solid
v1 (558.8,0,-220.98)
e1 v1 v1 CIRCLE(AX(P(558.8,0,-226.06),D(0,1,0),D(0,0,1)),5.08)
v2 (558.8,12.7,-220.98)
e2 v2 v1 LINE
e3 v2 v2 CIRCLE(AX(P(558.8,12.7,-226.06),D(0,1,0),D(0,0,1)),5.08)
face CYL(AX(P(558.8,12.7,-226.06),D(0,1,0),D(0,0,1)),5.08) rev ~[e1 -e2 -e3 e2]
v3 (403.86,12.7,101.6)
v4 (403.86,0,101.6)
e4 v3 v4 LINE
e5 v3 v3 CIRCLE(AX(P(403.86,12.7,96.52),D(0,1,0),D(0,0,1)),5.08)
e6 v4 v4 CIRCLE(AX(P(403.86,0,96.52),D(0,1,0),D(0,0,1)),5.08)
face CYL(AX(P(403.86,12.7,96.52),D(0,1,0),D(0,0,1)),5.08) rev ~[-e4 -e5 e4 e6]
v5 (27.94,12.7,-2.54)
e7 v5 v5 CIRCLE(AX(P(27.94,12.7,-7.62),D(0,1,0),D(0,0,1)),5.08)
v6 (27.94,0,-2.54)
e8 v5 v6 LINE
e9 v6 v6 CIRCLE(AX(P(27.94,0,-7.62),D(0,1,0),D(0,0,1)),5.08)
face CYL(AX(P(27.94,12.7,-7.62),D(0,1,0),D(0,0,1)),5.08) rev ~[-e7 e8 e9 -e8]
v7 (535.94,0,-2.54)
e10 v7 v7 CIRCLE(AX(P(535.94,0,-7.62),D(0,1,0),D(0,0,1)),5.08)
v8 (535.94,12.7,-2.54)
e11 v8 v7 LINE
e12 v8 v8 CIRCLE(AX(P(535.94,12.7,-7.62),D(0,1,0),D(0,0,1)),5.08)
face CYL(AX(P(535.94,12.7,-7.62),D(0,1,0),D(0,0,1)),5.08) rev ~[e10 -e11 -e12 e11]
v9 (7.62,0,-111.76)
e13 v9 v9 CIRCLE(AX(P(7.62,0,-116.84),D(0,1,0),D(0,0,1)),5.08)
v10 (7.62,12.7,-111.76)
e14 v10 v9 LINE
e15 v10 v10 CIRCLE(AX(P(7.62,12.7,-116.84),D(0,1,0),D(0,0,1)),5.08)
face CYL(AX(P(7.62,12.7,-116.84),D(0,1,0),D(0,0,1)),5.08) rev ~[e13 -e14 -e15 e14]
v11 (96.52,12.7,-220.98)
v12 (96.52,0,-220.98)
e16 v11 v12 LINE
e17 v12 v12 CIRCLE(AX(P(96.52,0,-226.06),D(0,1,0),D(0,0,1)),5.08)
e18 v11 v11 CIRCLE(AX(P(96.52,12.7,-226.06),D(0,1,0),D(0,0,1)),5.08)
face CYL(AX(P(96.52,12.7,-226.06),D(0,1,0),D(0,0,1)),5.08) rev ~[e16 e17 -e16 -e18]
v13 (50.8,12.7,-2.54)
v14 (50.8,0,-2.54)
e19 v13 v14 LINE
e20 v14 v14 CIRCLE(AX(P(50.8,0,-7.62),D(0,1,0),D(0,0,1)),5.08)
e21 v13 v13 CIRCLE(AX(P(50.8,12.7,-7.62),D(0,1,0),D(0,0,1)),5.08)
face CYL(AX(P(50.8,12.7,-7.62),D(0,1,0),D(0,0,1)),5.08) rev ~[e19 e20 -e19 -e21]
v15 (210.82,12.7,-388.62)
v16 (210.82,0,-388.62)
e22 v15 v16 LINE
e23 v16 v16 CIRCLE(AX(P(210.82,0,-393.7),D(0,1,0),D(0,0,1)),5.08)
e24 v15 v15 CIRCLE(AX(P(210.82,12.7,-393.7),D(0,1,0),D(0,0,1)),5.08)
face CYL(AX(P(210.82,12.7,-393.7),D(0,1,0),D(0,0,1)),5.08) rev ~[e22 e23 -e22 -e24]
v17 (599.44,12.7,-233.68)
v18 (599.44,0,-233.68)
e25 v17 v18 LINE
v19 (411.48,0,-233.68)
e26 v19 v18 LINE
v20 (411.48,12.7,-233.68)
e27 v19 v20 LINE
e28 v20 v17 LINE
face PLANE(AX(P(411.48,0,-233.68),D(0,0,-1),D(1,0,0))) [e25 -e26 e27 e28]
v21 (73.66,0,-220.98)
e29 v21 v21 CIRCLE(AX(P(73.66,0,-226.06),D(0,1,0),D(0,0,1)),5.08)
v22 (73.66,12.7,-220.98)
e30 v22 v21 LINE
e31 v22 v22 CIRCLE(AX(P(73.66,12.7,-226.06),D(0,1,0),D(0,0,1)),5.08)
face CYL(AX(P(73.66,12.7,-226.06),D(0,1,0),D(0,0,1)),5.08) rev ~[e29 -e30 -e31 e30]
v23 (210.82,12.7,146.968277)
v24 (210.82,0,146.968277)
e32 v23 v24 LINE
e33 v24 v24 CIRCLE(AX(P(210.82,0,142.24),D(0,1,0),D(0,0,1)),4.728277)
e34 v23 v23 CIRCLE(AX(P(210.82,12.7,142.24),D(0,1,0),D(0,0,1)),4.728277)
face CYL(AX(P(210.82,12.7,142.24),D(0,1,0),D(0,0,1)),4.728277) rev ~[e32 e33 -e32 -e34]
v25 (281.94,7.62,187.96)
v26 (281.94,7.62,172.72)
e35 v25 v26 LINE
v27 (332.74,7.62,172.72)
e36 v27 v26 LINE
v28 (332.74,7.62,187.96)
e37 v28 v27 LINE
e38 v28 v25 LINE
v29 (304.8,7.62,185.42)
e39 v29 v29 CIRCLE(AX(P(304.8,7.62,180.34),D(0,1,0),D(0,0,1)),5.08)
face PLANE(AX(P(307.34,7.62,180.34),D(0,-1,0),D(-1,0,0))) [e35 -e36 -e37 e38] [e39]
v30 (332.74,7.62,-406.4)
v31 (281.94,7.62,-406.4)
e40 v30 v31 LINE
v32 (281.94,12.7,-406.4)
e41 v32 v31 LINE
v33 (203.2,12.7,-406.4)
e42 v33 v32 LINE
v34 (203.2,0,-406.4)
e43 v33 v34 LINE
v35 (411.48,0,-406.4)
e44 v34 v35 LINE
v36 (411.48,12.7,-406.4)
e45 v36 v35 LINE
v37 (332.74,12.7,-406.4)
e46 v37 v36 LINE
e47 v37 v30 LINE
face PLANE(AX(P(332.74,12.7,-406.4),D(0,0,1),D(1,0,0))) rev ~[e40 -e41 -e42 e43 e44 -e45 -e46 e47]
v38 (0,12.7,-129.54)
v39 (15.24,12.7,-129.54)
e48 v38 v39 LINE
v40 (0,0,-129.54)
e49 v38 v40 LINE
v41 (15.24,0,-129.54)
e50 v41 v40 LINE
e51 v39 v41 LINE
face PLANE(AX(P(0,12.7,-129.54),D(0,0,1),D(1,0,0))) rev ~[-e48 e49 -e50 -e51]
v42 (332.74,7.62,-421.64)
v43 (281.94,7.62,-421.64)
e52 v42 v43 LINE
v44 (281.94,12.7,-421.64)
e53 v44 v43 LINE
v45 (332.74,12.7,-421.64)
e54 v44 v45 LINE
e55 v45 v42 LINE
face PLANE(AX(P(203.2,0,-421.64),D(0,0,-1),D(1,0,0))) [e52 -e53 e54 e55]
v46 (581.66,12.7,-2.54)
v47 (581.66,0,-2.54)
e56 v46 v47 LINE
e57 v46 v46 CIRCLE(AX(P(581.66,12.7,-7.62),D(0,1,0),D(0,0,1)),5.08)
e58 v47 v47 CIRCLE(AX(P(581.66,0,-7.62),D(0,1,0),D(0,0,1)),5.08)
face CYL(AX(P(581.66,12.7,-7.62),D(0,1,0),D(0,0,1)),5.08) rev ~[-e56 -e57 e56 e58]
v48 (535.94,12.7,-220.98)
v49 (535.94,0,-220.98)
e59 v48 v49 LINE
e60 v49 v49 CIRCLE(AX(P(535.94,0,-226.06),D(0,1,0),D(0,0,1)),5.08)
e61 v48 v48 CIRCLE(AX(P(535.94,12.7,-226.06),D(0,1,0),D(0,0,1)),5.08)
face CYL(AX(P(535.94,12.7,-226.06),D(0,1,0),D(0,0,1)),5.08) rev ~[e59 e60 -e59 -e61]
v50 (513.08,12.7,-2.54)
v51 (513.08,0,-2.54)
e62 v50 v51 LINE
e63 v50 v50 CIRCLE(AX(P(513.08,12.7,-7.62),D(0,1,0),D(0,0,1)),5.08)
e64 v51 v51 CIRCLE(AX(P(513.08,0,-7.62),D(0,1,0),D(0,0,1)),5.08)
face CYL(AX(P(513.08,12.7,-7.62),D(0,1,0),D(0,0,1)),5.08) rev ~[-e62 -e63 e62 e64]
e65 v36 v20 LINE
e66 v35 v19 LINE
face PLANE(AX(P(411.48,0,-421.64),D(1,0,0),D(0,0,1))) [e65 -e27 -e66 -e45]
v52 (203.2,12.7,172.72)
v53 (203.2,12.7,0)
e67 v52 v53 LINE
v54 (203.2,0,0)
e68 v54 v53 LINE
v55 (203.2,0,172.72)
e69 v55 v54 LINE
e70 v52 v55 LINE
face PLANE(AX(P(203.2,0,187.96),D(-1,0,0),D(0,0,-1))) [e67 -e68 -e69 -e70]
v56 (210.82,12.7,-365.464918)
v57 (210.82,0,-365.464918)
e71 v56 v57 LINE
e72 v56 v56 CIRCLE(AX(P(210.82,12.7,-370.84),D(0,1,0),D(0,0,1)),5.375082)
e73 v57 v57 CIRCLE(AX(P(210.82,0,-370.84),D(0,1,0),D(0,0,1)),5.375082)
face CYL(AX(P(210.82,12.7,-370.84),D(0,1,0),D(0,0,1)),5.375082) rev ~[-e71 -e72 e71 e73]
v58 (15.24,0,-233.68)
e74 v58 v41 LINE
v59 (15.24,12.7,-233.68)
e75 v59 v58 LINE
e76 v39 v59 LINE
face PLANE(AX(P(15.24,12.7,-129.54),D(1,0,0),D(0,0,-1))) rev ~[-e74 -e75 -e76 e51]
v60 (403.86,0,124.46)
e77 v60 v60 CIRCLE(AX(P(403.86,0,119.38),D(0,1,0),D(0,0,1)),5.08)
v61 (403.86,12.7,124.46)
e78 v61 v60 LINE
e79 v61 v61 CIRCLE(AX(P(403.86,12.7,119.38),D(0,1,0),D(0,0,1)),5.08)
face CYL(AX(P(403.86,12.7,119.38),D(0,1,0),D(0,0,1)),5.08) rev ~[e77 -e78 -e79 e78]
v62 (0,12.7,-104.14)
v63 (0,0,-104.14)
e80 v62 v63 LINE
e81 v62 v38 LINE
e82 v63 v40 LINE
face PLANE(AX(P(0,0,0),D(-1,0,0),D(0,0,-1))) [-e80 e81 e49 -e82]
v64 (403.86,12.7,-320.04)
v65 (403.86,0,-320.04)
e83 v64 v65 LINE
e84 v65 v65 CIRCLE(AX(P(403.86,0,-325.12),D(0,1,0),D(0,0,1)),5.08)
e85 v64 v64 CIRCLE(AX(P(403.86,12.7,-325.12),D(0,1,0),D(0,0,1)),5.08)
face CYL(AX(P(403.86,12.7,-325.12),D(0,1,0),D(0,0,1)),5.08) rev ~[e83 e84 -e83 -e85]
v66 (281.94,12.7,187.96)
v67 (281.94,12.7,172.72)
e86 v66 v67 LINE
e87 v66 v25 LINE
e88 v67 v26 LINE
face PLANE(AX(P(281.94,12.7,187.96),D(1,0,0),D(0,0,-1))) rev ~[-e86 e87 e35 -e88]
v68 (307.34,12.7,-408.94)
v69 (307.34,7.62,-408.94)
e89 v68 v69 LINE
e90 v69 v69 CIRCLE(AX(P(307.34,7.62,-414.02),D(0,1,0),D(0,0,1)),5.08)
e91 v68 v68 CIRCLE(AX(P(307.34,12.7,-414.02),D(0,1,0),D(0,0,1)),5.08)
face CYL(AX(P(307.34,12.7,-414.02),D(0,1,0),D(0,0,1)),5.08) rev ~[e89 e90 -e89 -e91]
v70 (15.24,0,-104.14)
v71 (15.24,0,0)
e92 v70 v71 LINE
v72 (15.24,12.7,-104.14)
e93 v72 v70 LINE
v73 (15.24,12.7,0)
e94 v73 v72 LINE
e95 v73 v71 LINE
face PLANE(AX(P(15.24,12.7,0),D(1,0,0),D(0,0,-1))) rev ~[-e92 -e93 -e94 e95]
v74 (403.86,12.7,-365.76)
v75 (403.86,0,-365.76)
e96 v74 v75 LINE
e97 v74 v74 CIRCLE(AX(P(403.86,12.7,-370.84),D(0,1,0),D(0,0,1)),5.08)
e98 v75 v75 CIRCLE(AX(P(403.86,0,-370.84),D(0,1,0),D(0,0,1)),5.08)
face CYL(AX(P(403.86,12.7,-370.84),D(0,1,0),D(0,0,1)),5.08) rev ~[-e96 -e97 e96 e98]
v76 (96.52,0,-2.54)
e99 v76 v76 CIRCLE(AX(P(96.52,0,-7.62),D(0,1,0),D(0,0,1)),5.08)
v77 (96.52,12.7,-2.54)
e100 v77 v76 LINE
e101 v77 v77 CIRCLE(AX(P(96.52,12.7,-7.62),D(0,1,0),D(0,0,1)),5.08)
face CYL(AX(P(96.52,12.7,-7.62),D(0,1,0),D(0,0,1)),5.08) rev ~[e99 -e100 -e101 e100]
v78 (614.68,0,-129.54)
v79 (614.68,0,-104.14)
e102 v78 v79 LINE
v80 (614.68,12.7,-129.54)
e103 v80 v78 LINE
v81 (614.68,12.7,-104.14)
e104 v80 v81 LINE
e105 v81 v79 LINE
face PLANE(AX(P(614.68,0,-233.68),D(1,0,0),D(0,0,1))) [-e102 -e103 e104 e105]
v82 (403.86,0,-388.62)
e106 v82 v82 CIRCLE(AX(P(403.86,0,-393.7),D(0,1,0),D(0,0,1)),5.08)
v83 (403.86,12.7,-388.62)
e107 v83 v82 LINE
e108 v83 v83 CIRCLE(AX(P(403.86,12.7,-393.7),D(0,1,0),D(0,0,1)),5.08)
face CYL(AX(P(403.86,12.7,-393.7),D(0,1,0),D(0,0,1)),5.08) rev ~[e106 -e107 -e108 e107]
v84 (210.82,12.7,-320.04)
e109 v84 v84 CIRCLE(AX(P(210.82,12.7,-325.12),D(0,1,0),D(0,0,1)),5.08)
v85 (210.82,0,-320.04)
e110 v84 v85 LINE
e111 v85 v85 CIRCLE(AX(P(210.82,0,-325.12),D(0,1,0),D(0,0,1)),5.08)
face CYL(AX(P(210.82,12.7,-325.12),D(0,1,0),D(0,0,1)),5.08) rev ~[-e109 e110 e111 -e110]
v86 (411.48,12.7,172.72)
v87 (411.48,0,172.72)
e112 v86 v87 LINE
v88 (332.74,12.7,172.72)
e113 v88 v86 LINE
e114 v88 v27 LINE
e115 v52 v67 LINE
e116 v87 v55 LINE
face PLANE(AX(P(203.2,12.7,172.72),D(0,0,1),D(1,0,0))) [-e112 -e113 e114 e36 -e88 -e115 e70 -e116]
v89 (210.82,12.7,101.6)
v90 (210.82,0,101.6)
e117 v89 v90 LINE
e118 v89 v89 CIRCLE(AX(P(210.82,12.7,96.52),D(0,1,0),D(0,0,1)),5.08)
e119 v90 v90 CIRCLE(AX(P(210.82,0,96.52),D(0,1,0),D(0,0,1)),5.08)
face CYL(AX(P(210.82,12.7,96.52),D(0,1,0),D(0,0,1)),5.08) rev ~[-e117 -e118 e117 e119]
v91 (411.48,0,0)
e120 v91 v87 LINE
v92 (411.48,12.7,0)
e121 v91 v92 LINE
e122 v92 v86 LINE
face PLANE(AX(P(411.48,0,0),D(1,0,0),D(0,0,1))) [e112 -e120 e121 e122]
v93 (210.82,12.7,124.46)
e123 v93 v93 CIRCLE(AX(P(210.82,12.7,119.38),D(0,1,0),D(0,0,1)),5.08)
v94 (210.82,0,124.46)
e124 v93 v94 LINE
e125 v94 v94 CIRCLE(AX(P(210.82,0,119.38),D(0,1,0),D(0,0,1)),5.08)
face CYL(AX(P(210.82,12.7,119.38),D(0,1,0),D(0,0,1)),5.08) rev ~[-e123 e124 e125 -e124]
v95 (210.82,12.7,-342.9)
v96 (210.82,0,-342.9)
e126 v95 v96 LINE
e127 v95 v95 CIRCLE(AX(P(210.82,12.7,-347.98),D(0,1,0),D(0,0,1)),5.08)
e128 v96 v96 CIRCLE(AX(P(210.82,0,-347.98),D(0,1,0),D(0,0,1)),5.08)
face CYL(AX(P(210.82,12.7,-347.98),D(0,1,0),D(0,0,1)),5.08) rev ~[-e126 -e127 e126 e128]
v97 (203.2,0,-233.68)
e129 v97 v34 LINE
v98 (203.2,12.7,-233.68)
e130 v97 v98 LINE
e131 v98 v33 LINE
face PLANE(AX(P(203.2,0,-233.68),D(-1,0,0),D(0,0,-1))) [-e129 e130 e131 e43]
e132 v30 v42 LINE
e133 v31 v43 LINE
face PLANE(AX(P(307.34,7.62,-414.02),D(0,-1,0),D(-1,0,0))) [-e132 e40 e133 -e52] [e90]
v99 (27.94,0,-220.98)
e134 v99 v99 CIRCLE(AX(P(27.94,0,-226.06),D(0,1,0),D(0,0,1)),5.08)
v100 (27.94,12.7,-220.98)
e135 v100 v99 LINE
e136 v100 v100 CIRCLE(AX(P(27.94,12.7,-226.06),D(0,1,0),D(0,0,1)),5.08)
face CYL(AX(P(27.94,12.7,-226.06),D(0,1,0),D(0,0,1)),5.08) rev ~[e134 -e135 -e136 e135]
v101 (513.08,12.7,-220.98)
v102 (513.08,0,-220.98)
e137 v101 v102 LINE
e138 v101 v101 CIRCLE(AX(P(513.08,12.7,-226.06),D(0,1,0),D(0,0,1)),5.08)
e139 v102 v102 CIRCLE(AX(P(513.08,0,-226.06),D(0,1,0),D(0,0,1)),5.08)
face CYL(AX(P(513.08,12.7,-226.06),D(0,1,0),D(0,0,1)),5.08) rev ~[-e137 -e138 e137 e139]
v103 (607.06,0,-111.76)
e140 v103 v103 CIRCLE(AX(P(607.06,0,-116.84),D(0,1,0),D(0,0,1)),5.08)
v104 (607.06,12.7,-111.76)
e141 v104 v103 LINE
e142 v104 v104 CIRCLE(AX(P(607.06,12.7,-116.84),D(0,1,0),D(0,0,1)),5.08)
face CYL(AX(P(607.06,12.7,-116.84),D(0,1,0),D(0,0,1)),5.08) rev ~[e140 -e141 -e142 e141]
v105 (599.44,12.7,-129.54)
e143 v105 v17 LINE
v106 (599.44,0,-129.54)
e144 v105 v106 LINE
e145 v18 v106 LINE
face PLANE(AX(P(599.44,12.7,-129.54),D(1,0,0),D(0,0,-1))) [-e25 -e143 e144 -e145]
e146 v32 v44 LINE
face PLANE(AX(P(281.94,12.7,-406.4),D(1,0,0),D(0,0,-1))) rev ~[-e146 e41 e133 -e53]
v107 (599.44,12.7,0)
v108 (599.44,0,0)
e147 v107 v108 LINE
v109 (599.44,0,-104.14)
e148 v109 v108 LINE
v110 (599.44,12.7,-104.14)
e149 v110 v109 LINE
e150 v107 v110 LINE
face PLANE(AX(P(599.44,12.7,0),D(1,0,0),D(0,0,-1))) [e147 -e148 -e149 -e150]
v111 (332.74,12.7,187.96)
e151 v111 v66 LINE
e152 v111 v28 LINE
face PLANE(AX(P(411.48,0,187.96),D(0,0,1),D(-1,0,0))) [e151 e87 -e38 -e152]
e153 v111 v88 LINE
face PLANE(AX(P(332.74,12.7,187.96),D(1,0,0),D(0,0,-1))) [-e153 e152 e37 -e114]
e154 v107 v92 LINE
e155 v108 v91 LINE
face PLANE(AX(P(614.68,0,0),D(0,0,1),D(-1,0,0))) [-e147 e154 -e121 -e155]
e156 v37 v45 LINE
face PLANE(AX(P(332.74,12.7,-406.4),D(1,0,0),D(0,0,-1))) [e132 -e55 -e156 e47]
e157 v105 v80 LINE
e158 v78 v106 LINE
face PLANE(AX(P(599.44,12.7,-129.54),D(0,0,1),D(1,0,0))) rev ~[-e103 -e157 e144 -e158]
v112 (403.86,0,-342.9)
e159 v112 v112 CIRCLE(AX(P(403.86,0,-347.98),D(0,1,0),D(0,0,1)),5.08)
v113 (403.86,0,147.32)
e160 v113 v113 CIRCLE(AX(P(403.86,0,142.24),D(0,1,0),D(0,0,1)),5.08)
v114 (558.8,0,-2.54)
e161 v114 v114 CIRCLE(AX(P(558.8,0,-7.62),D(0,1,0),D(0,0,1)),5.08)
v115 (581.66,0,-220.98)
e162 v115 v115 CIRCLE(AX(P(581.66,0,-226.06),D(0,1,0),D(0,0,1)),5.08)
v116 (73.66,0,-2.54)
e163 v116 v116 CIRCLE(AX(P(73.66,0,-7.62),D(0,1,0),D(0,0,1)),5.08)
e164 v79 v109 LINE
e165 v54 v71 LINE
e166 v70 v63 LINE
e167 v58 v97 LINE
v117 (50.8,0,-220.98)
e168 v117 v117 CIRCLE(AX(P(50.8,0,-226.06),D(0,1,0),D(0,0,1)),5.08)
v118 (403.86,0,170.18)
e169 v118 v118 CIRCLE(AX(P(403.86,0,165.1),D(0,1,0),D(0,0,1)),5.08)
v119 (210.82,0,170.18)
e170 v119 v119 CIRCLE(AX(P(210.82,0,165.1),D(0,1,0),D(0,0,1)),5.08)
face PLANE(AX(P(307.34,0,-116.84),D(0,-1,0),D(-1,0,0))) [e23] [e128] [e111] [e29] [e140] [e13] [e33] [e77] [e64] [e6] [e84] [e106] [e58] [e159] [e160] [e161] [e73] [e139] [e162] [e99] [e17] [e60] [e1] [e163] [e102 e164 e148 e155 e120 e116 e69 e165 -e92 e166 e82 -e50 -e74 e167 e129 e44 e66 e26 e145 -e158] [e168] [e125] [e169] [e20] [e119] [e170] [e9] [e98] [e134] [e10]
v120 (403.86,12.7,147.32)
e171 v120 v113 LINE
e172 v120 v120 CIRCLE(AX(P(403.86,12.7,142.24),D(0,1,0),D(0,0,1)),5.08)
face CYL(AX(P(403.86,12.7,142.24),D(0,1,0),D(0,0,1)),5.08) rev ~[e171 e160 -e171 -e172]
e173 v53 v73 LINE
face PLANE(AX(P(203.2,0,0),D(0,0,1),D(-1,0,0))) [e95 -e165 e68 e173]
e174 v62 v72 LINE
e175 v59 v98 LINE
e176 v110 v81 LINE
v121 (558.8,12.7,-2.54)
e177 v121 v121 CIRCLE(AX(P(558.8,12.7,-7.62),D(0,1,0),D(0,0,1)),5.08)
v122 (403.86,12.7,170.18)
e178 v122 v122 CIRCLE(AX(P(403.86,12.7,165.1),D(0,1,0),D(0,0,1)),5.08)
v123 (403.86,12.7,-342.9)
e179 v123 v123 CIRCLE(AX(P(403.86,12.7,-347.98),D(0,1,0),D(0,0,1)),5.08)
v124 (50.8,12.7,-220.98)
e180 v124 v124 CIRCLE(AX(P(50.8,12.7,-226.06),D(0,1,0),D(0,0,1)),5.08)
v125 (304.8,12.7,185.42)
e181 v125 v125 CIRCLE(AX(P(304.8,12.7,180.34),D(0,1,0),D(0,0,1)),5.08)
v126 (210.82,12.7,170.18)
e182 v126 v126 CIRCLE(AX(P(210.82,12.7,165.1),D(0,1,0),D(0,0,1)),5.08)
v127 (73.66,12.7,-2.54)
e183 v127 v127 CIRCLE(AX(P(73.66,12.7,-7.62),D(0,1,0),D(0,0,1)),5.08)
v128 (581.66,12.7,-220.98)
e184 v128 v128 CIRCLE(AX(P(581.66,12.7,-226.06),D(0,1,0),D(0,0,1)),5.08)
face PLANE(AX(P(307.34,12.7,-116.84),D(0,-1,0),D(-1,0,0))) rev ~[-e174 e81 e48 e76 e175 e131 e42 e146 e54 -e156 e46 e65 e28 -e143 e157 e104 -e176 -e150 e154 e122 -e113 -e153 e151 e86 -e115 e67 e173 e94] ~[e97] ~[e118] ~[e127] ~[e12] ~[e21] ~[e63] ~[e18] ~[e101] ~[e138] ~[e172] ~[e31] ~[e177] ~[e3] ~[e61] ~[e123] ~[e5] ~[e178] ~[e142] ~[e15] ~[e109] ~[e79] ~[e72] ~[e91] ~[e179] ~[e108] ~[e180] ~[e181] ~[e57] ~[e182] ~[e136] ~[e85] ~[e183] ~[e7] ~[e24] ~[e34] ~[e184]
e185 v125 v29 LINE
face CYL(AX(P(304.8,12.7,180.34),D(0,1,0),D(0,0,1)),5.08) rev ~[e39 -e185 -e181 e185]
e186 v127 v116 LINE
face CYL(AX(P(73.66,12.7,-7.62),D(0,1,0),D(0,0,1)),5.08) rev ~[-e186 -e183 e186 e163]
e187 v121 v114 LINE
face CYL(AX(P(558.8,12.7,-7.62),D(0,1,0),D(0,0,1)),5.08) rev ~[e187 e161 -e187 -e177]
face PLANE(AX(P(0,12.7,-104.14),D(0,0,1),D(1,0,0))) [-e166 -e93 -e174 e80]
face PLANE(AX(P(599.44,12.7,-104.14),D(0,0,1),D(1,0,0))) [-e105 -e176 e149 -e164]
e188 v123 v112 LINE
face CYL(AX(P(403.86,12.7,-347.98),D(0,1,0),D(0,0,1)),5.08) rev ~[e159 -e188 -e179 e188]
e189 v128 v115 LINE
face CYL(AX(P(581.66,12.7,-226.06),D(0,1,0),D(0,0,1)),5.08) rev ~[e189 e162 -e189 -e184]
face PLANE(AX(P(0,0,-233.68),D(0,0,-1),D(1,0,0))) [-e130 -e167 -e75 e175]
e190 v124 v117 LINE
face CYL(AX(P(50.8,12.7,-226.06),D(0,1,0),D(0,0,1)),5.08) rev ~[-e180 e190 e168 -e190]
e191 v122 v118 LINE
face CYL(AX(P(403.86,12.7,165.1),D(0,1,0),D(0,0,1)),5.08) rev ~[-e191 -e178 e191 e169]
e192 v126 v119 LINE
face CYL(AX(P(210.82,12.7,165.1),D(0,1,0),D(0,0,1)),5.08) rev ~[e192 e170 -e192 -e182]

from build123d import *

# Parameters (mm, degrees)
BOSS_EXTRUDE1_DEPTH = 12.7
SKETCH3_W           = 78.74
SKETCH3_H           = 15.24
CUT_EXTRUDE1_DEPTH  = 15.24
SKETCH5_W           = 50.8
SKETCH5_H           = 15.24
CUT_EXTRUDE2_DEPTH  = 7.62
SKETCH6_R           = 5.08
CUT_EXTRUDE3_DEPTH  = 10.16
SKETCH7_W           = 15.24
SKETCH7_H           = 104.14
CUT_EXTRUDE4_DEPTH  = 15.24
SKETCH8_R           = 5.08
CUT_EXTRUDE5_DEPTH  = 15.24
SKETCH9_R           = 5.08
SKETCH9_R_2         = 5.375081868
SKETCH9_R_3         = 4.728276711
CUT_EXTRUDE6_DEPTH  = 15.24


with BuildPart() as part:
    # Sketch1 → Boss-Extrude1 (new body)
    with BuildSketch(Plane(origin=(0, 0, 0), x_dir=(1, 0, 0), z_dir=(0, 1, 0))):
        Polygon((0, 0), (0, 233.68), (203.2, 233.68), (203.2, 421.64), (411.48, 421.64), (411.48, 233.68), (614.68, 233.68), (614.68, 0), (411.48, 0), (411.48, -187.96), (203.2, -187.96), (203.2, 0), align=None)
    extrude(amount=BOSS_EXTRUDE1_DEPTH)

    # Sketch3 → Cut-Extrude1 (cut)
    with BuildSketch(Plane(origin=(0, 12.7, 0), x_dir=(1, 0, 0), z_dir=(0, 1, 0))):
        with Locations((242.57, 414.02)):
            Rectangle(SKETCH3_W, SKETCH3_H)
        with Locations((372.11, 414.02)):
            Rectangle(SKETCH3_W, SKETCH3_H)
        with Locations((372.11, -180.34)):
            Rectangle(SKETCH3_W, SKETCH3_H)
        with Locations((242.57, -180.34)):
            Rectangle(SKETCH3_W, SKETCH3_H)
    extrude(amount=-CUT_EXTRUDE1_DEPTH, mode=Mode.SUBTRACT)

    # Sketch5 → Cut-Extrude2 (cut)
    with BuildSketch(Plane(origin=(0, 0, 0), x_dir=(-1, 0, 0), z_dir=(0, -1, 0))):
        with Locations((-307.34, -180.34)):
            Rectangle(SKETCH5_W, SKETCH5_H)
        with Locations((-307.34, 414.02)):
            Rectangle(SKETCH5_W, SKETCH5_H)
    extrude(amount=-CUT_EXTRUDE2_DEPTH, mode=Mode.SUBTRACT)

    # Sketch6 → Cut-Extrude3 (cut)
    with BuildSketch(Plane(origin=(0, 12.7, 0), x_dir=(1, 0, 0), z_dir=(0, 1, 0))):
        with Locations(Location((307.34, 414.02, 0), (0, 0, 270))):
            Circle(SKETCH6_R)
        with Locations(Location((304.8, -180.34, 0), (0, 0, 270))):
            Circle(SKETCH6_R)
    extrude(amount=-CUT_EXTRUDE3_DEPTH, mode=Mode.SUBTRACT)

    # Sketch7 → Cut-Extrude4 (cut)
    with BuildSketch(Plane(origin=(0, 12.7, 0), x_dir=(1, 0, 0), z_dir=(0, 1, 0))):
        with Locations((7.62, 52.07)):
            Rectangle(SKETCH7_W, SKETCH7_H)
        with Locations((7.62, 181.61)):
            Rectangle(SKETCH7_W, SKETCH7_H)
        with Locations((607.06, 52.07)):
            Rectangle(SKETCH7_W, SKETCH7_H)
        with Locations((607.06, 181.61)):
            Rectangle(SKETCH7_W, SKETCH7_H)
    extrude(amount=-CUT_EXTRUDE4_DEPTH, mode=Mode.SUBTRACT)

    # Sketch8 → Cut-Extrude5 (cut)
    with BuildSketch(Plane(origin=(0, 12.7, 0), x_dir=(1, 0, 0), z_dir=(0, 1, 0))):
        with Locations(Location((607.06, 116.84, 0), (0, 0, 270))):
            Circle(SKETCH8_R)
        with Locations(Location((7.62, 116.84, 0), (0, 0, 270))):
            Circle(SKETCH8_R)
    extrude(amount=-CUT_EXTRUDE5_DEPTH, mode=Mode.SUBTRACT)

    # Sketch9 → Cut-Extrude6 (cut)
    with BuildSketch(Plane(origin=(0, 12.7, 0), x_dir=(1, 0, 0), z_dir=(0, 1, 0))):
        with Locations(Location((27.94, 226.06, 0), (0, 0, 270))):
            Circle(SKETCH9_R)
        with Locations(Location((50.8, 226.06, 0), (0, 0, 270))):
            Circle(SKETCH9_R)
        with Locations(Location((73.66, 226.06, 0), (0, 0, 270))):
            Circle(SKETCH9_R)
        with Locations(Location((96.52, 226.06, 0), (0, 0, 270))):
            Circle(SKETCH9_R)
        with Locations(Location((581.66, 226.06, 0), (0, 0, 270))):
            Circle(SKETCH9_R)
        with Locations(Location((558.8, 226.06, 0), (0, 0, 270))):
            Circle(SKETCH9_R)
        with Locations(Location((535.94, 226.06, 0), (0, 0, 270))):
            Circle(SKETCH9_R)
        with Locations(Location((513.08, 226.06, 0), (0, 0, 270))):
            Circle(SKETCH9_R)
        with Locations(Location((27.94, 7.62, 0), (0, 0, 270))):
            Circle(SKETCH9_R)
        with Locations(Location((50.8, 7.62, 0), (0, 0, 270))):
            Circle(SKETCH9_R)
        with Locations(Location((73.66, 7.62, 0), (0, 0, 270))):
            Circle(SKETCH9_R)
        with Locations(Location((96.52, 7.62, 0), (0, 0, 270))):
            Circle(SKETCH9_R)
        with Locations(Location((581.66, 7.62, 0), (0, 0, 270))):
            Circle(SKETCH9_R)
        with Locations(Location((558.8, 7.62, 0), (0, 0, 270))):
            Circle(SKETCH9_R)
        with Locations(Location((535.94, 7.62, 0), (0, 0, 270))):
            Circle(SKETCH9_R)
        with Locations(Location((513.08, 7.62, 0), (0, 0, 270))):
            Circle(SKETCH9_R)
        with Locations(Location((210.82, 393.7, 0), (0, 0, 270))):
            Circle(SKETCH9_R)
        with Locations(Location((403.86, 393.7, 0), (0, 0, 270))):
            Circle(SKETCH9_R)
        with Locations(Location((210.82, 370.84, 0), (0, 0, 270))):
            Circle(SKETCH9_R_2)
        with Locations(Location((210.82, 347.98, 0), (0, 0, 270))):
            Circle(SKETCH9_R)
        with Locations(Location((210.82, 325.12, 0), (0, 0, 270))):
            Circle(SKETCH9_R)
        with Locations(Location((403.86, 370.84, 0), (0, 0, 270))):
            Circle(SKETCH9_R)
        with Locations(Location((403.86, 347.98, 0), (0, 0, 270))):
            Circle(SKETCH9_R)
        with Locations(Location((403.86, 325.12, 0), (0, 0, 270))):
            Circle(SKETCH9_R)
        with Locations(Location((210.82, -165.1, 0), (0, 0, 270))):
            Circle(SKETCH9_R)
        with Locations(Location((403.86, -165.1, 0), (0, 0, 270))):
            Circle(SKETCH9_R)
        with Locations(Location((210.82, -142.24, 0), (0, 0, 270))):
            Circle(SKETCH9_R_3)
        with Locations(Location((210.82, -119.38, 0), (0, 0, 270))):
            Circle(SKETCH9_R)
        with Locations(Location((210.82, -96.52, 0), (0, 0, 270))):
            Circle(SKETCH9_R)
        with Locations(Location((403.86, -142.24, 0), (0, 0, 270))):
            Circle(SKETCH9_R)
        with Locations(Location((403.86, -119.38, 0), (0, 0, 270))):
            Circle(SKETCH9_R)
        with Locations(Location((403.86, -96.52, 0), (0, 0, 270))):
            Circle(SKETCH9_R)
    extrude(amount=-CUT_EXTRUDE6_DEPTH, mode=Mode.SUBTRACT)


solid = part.part
